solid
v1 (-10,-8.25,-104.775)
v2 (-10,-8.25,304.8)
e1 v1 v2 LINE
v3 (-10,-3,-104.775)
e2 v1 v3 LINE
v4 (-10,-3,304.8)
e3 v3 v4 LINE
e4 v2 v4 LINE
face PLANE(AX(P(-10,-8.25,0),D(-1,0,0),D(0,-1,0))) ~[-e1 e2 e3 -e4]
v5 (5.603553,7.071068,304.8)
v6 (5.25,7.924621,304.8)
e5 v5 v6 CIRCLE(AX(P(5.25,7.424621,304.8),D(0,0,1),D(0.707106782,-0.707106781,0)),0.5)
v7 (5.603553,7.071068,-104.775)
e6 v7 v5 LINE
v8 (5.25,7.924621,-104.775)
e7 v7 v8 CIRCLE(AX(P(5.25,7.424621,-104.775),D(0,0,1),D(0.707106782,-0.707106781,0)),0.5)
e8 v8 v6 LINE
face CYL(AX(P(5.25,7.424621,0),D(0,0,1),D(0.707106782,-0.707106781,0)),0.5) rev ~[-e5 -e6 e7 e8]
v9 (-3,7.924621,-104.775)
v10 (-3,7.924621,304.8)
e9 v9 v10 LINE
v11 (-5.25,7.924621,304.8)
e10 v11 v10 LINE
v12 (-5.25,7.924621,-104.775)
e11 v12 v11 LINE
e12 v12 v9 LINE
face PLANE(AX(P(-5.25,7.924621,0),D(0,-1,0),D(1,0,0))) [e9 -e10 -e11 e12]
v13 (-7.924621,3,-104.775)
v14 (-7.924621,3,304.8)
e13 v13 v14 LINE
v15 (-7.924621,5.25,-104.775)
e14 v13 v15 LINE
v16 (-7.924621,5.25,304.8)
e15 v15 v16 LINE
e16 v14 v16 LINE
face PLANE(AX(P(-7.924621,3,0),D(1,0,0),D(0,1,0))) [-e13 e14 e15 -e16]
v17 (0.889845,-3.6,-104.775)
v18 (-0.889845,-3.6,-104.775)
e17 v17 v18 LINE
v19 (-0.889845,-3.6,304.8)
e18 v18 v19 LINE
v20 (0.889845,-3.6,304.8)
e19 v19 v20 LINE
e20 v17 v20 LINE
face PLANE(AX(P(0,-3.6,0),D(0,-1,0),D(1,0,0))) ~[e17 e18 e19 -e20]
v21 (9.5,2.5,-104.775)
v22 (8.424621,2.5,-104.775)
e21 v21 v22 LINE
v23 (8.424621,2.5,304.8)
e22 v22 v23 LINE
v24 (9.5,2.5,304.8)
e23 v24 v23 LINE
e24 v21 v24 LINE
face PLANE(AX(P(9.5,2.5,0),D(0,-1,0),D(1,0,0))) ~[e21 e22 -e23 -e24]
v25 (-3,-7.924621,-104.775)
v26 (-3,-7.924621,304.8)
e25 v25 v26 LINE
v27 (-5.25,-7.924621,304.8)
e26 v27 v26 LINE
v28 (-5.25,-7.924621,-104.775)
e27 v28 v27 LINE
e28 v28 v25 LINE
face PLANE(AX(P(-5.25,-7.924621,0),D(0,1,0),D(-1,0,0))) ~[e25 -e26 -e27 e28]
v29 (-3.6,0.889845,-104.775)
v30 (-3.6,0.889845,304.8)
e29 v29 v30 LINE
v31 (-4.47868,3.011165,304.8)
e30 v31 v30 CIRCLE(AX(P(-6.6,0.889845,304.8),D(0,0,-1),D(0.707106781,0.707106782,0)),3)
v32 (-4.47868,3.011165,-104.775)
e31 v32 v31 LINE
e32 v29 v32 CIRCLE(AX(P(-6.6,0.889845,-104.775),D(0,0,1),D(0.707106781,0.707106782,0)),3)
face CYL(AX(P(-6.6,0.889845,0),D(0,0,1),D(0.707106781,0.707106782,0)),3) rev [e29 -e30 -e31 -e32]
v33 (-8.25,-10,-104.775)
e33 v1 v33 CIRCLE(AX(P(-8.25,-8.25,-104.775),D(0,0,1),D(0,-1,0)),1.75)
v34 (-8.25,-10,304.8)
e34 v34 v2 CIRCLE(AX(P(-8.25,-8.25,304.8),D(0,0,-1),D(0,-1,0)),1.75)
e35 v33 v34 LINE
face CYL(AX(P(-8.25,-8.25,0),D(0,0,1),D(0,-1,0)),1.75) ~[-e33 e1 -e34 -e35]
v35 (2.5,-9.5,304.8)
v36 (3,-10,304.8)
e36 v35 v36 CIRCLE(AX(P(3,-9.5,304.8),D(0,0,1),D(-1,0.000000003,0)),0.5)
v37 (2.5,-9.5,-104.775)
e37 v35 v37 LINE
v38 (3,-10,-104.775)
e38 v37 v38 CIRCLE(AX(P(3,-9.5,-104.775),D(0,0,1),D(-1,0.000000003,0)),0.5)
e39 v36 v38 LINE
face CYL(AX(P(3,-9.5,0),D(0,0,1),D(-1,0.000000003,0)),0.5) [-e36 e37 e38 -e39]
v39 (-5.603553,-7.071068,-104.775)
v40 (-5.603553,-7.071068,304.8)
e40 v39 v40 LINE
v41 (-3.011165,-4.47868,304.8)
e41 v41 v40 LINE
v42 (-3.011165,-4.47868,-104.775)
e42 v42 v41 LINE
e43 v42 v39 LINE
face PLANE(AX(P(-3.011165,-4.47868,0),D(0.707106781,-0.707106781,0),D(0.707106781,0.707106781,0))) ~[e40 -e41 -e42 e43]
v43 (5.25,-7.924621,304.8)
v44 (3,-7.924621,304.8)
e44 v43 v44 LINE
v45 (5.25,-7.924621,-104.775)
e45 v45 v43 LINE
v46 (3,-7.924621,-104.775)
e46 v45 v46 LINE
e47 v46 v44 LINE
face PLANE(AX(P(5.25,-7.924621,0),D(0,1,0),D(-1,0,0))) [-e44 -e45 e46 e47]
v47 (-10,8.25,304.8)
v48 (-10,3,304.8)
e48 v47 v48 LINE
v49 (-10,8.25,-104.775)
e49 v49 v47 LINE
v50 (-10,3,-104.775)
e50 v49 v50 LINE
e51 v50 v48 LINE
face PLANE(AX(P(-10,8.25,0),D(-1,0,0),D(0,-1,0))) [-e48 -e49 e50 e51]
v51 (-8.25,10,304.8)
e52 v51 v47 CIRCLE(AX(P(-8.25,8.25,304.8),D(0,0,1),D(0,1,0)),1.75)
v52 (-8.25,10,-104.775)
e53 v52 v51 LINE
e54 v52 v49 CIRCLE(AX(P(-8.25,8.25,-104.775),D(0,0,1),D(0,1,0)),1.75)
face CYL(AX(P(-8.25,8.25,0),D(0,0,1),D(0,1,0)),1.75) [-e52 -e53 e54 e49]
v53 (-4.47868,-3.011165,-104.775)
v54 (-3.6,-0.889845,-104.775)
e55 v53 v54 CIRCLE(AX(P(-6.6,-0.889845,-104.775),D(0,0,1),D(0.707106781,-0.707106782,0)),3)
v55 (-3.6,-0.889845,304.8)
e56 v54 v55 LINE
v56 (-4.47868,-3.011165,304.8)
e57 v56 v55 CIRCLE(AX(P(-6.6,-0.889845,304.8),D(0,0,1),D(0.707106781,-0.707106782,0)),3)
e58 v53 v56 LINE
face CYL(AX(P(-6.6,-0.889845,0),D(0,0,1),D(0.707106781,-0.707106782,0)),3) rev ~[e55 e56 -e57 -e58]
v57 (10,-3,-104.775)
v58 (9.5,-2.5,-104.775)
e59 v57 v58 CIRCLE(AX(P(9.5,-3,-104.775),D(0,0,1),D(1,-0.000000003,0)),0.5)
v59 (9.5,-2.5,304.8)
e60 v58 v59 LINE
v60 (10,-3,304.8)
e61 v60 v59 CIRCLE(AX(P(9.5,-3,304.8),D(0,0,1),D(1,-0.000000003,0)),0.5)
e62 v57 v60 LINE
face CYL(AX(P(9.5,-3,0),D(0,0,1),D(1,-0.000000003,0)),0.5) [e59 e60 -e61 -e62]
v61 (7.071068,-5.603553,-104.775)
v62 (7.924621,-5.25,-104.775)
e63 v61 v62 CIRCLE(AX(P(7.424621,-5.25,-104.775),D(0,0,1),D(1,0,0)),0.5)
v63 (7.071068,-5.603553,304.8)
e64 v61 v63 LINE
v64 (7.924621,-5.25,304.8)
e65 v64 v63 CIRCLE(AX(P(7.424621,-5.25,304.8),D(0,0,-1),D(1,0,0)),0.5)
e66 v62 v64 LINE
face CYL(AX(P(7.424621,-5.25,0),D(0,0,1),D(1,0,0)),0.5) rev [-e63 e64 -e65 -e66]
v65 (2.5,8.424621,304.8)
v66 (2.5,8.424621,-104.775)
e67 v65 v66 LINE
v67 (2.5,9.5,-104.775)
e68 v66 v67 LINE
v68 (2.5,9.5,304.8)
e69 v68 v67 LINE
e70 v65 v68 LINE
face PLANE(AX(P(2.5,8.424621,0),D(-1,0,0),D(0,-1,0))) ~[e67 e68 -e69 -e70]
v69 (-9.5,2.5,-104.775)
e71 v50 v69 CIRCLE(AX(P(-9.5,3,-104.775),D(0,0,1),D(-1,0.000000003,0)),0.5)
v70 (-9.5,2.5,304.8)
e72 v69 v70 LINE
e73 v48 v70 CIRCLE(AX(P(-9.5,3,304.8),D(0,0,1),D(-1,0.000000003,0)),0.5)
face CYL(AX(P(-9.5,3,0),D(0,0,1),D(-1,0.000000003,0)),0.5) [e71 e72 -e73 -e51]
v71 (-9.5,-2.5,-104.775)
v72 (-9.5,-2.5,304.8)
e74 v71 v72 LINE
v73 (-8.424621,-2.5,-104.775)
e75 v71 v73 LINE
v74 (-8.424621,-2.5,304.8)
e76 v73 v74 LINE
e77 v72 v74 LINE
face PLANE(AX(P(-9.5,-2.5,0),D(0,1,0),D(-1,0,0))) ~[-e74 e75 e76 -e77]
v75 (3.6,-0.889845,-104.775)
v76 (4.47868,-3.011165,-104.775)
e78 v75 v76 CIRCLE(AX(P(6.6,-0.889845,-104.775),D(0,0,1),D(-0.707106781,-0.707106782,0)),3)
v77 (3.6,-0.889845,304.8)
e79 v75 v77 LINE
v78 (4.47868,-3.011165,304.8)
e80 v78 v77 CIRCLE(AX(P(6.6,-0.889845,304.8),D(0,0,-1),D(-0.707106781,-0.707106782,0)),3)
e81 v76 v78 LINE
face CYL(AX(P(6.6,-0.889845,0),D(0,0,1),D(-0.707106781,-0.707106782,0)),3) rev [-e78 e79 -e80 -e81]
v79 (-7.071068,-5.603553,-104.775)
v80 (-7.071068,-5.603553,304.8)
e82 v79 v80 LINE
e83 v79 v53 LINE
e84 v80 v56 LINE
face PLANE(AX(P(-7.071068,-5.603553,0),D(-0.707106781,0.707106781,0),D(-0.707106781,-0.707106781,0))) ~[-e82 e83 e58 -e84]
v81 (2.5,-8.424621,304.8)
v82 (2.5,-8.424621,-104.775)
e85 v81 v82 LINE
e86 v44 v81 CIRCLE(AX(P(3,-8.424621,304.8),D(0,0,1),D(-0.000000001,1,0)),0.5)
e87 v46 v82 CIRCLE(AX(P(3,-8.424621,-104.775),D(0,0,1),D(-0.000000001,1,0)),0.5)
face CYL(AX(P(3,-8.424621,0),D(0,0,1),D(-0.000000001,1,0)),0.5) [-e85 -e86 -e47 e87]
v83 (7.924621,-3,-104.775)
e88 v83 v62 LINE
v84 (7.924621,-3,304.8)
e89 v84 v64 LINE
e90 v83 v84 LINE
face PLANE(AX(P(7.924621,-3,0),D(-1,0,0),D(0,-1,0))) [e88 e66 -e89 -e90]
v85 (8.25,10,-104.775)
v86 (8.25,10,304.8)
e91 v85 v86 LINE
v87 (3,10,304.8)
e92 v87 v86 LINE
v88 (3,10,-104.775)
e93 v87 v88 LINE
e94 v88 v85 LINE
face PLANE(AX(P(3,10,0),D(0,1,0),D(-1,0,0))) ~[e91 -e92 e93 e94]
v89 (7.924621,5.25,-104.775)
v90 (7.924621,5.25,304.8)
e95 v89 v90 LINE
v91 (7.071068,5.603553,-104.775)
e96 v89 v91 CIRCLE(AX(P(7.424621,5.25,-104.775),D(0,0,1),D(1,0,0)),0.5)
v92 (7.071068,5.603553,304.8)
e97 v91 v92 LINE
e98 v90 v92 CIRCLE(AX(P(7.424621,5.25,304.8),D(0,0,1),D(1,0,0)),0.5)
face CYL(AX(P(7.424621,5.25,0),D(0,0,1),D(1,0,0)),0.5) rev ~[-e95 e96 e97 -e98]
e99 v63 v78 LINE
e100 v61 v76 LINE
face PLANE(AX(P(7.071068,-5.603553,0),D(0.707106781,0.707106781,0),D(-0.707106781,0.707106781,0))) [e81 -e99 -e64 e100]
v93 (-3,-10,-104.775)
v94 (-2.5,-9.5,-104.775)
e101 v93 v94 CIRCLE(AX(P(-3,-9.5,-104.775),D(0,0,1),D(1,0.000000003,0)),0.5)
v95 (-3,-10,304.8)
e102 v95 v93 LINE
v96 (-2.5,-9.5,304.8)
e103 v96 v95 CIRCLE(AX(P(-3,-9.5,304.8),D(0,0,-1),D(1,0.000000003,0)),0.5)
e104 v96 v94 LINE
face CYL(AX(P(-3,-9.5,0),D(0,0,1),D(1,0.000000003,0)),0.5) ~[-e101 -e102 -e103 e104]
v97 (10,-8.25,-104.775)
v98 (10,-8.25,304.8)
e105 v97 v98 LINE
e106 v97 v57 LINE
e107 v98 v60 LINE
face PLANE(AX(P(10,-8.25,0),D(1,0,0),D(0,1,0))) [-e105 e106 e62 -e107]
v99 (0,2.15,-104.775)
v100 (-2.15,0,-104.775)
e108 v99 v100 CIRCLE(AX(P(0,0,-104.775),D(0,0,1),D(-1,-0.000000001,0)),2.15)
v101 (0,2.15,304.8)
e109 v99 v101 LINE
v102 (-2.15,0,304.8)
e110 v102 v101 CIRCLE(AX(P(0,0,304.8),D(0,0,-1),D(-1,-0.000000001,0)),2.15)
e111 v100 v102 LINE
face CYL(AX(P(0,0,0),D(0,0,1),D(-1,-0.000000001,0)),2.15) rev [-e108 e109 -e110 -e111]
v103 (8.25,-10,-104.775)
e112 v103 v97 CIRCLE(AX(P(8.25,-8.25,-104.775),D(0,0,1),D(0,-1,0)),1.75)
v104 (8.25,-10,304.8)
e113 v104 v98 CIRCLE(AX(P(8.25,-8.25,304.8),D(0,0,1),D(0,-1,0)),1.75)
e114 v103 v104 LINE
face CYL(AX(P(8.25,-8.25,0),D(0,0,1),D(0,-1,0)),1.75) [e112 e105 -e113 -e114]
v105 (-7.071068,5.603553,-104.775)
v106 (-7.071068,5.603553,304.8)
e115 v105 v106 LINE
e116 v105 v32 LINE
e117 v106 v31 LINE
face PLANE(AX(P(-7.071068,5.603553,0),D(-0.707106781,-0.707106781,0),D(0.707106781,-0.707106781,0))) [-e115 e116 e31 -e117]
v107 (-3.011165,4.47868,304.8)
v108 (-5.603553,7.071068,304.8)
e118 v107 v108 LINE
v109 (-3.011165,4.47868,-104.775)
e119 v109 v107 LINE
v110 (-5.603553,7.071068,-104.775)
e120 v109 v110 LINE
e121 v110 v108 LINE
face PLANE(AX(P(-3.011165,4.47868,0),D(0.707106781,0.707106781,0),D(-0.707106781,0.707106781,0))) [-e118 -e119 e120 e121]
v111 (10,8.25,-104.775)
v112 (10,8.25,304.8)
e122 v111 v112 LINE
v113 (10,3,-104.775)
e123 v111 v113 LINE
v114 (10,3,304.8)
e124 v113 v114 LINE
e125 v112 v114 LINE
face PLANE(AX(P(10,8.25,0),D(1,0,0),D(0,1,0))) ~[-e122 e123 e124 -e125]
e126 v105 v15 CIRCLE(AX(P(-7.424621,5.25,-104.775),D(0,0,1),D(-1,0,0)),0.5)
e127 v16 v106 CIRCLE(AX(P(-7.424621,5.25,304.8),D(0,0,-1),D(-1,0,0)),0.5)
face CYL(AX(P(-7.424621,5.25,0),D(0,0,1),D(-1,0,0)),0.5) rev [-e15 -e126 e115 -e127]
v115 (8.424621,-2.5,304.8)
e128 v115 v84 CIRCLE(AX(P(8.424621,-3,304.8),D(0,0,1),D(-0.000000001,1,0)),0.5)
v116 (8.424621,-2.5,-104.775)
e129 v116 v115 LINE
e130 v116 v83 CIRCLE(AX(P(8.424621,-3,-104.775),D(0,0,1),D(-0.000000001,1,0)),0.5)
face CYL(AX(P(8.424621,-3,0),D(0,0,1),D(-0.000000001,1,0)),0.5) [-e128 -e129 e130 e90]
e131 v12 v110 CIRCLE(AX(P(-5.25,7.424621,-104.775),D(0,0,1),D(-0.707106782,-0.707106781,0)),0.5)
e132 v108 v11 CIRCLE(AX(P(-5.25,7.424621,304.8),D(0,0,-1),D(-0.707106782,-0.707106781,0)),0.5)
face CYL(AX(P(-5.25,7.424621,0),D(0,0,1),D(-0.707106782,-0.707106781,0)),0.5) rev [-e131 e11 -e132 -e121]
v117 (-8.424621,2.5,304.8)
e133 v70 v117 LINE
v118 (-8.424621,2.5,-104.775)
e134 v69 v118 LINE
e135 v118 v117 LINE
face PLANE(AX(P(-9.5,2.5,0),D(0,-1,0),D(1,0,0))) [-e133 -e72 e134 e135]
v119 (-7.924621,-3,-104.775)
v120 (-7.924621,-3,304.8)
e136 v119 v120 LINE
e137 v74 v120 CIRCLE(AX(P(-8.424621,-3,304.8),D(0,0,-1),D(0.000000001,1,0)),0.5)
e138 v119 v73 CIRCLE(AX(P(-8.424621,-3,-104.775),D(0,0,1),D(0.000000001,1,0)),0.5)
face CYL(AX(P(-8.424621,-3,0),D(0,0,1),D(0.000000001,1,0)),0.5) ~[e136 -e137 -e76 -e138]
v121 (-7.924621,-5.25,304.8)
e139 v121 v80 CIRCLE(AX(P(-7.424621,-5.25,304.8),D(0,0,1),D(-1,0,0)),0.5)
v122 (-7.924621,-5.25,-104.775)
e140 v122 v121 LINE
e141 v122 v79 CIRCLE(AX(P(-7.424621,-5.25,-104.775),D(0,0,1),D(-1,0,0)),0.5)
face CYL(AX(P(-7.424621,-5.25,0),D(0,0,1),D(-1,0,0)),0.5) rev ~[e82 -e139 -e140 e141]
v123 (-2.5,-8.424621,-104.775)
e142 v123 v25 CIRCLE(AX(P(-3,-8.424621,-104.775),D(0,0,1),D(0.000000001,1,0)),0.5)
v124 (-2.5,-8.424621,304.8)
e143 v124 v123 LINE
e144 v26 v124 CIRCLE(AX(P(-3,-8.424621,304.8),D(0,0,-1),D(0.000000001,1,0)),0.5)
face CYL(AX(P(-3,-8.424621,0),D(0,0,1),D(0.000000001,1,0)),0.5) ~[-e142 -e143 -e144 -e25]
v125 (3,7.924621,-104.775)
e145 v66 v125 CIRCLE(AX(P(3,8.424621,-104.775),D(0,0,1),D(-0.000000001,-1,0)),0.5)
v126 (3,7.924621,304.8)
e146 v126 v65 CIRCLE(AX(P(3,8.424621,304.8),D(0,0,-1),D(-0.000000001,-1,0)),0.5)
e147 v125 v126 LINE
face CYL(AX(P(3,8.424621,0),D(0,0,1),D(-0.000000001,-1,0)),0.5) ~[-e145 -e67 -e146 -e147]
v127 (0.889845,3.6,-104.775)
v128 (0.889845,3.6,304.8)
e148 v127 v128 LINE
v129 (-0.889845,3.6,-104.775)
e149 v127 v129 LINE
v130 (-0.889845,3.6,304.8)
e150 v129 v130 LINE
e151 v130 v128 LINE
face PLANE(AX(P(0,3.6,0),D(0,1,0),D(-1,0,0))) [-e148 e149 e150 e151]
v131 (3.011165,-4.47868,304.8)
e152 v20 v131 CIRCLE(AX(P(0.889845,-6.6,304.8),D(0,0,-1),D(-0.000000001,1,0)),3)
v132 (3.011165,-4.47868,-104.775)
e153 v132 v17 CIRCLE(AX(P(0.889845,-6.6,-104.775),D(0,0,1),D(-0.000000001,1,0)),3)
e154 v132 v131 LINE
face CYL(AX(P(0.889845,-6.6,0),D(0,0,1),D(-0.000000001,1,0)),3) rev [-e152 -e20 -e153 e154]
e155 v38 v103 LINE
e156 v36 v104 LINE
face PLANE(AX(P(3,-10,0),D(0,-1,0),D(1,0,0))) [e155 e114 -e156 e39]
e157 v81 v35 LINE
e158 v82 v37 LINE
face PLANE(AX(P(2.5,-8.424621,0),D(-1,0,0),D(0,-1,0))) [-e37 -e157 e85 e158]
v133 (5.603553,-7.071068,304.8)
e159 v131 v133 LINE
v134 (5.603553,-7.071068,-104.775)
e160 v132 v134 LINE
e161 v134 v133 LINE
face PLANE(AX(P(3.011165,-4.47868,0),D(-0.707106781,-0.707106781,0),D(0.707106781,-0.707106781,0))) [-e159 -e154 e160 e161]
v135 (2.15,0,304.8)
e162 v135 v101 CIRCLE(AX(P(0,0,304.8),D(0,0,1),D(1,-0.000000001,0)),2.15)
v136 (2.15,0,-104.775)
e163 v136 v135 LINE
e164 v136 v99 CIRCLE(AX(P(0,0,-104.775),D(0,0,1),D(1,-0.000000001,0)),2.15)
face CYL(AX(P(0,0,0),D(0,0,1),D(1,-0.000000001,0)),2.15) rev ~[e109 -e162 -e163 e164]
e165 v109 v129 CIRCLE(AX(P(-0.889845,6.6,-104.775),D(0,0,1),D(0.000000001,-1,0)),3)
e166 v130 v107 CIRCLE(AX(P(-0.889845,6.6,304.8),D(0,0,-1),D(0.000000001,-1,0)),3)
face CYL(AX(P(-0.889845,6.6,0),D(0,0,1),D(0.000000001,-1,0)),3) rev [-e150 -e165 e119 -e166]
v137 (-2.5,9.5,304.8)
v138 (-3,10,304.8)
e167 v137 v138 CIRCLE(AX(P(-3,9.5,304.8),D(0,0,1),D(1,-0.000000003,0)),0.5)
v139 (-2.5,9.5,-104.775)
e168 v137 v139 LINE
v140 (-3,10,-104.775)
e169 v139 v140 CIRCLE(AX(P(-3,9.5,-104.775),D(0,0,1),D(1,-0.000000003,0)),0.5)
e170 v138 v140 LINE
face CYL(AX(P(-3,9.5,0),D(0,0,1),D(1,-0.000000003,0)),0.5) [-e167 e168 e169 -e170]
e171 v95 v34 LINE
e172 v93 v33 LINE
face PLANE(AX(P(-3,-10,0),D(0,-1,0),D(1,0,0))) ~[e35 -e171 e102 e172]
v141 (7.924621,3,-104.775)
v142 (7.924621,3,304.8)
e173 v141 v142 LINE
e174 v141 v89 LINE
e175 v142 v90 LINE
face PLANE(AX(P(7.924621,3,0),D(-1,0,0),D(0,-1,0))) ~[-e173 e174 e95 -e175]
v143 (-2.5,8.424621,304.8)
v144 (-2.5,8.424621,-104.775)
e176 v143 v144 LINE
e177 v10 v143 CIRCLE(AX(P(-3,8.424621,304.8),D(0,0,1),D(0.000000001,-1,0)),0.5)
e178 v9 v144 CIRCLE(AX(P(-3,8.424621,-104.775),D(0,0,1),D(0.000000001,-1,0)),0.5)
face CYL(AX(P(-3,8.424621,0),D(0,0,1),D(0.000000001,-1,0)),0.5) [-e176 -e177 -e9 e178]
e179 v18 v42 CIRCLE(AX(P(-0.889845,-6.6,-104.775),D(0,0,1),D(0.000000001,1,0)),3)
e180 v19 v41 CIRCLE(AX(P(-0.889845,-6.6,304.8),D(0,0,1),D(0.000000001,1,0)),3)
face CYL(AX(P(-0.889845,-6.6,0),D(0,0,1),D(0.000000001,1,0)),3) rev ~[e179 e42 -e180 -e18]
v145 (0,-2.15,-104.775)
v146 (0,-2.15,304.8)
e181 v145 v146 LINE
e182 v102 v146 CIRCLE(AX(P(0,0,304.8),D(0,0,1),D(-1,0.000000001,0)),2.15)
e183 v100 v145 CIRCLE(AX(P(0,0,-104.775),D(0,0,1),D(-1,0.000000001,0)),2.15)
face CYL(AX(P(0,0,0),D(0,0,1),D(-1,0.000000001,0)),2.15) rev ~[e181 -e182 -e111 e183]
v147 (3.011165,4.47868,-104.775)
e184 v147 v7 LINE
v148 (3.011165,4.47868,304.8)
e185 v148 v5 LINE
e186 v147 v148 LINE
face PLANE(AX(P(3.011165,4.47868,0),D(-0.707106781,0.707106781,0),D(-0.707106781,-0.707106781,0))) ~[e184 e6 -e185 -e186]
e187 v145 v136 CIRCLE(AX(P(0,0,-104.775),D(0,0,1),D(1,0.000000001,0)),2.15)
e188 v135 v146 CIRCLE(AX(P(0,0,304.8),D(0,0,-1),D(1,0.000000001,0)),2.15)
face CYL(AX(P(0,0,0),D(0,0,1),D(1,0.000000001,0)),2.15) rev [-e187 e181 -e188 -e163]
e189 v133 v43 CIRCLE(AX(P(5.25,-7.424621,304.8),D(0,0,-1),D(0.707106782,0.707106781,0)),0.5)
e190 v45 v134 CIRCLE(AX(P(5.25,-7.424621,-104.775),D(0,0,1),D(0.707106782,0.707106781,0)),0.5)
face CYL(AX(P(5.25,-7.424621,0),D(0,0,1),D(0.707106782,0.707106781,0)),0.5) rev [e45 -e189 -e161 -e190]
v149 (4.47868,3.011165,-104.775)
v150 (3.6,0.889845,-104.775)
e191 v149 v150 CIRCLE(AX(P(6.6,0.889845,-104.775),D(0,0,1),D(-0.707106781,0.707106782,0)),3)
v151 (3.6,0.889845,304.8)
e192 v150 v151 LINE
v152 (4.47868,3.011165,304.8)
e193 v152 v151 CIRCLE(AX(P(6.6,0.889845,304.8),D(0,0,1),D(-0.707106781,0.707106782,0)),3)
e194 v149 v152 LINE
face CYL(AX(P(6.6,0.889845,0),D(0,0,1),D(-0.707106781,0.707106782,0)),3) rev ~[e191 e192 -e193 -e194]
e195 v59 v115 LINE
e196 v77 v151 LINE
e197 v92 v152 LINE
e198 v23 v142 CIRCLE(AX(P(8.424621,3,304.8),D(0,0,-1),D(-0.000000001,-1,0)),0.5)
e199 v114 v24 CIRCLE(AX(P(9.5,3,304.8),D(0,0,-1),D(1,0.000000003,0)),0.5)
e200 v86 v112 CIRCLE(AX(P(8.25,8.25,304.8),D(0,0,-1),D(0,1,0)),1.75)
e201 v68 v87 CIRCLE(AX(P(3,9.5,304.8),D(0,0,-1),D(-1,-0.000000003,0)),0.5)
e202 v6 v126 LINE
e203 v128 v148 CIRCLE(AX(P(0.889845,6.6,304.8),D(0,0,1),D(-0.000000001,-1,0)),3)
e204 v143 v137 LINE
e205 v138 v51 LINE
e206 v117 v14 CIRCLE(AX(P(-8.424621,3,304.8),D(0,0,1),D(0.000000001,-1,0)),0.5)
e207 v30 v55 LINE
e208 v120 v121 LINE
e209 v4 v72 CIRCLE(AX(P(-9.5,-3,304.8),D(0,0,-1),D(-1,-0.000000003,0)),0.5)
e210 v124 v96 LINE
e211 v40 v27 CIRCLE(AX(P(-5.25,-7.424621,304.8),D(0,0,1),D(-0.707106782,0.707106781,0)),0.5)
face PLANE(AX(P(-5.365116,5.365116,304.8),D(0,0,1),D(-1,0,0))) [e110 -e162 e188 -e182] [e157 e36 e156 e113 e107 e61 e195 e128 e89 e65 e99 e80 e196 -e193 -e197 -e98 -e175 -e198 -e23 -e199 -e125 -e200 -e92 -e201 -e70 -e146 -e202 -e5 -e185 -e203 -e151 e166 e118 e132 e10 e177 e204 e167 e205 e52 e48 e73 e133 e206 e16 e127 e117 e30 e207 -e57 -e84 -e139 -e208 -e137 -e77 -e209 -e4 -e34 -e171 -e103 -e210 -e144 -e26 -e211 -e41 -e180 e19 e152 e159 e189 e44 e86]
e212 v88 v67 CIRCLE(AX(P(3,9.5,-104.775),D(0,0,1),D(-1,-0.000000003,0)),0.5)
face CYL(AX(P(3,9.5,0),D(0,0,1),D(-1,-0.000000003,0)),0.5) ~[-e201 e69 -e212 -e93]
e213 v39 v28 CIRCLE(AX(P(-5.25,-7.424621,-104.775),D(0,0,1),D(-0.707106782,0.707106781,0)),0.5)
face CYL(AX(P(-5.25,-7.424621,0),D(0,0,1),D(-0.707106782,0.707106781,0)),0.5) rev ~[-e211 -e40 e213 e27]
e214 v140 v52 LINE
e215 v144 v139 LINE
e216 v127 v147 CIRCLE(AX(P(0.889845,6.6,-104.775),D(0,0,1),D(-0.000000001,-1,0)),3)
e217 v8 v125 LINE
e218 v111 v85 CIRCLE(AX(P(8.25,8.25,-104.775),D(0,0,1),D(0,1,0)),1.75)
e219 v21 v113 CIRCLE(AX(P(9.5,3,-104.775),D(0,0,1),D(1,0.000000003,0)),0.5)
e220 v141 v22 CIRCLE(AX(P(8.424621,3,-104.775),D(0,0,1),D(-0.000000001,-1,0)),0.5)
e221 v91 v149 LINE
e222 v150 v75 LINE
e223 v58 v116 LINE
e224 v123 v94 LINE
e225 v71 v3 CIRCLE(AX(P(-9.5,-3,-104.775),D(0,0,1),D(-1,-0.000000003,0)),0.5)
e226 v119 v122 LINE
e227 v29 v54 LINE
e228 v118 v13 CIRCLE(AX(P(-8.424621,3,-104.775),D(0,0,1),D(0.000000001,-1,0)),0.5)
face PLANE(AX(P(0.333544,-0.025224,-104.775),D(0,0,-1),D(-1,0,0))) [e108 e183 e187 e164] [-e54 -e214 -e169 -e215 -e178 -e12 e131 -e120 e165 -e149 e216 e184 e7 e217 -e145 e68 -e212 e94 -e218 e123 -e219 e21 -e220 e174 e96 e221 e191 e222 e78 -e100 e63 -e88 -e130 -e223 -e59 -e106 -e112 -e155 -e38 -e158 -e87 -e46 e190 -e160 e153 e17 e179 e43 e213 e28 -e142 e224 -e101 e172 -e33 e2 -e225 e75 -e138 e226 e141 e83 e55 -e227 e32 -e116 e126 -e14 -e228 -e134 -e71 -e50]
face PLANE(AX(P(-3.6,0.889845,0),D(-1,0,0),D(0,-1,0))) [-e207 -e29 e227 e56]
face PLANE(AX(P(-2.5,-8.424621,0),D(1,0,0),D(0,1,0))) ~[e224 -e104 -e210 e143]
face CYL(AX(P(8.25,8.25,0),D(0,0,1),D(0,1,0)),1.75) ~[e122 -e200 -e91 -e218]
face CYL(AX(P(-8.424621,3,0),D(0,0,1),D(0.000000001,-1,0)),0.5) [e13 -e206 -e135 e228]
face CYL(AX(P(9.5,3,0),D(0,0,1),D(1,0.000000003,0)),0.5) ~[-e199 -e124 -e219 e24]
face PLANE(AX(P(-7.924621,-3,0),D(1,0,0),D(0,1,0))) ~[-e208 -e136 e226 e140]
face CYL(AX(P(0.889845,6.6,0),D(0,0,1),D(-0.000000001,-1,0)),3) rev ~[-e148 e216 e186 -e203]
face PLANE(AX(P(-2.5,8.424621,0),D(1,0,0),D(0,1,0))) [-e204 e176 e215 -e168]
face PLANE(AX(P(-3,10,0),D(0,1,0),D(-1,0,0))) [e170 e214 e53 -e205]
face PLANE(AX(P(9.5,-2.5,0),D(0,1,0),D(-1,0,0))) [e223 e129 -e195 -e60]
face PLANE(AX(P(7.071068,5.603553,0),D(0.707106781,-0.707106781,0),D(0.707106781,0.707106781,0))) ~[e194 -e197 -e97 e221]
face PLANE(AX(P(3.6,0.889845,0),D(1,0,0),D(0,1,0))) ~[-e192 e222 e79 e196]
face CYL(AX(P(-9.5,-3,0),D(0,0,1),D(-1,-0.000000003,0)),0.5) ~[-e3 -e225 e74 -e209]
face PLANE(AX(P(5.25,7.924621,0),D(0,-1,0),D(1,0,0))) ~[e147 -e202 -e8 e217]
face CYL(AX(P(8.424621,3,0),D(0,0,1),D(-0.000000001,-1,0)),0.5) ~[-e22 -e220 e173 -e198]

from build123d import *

# Parameters (mm, degrees)
BOSS_EXTRUDE1_DEPTH = 304.8
SKETCH5_W           = 26.995197012
SKETCH5_H           = 24.68705749
CUT_EXTRUDE1_DEPTH  = 200.025


with BuildPart() as part:
    # Sketch4 → Boss-Extrude1 (new, symmetric)
    with BuildSketch(Plane.XY):
        with BuildLine():
            Line((3, -10), (8.25, -10))
            ThreePointArc((8.25, -10), (9.487436867, -9.487436867), (10, -8.25))
            Line((10, -8.25), (10, -3))
            ThreePointArc((10, -3), (9.853553391, -2.646446609), (9.5, -2.5))
            Line((9.5, -2.5), (8.424621202, -2.5))
            ThreePointArc((8.424621202, -2.5), (8.071067812, -2.646446609), (7.924621202, -3))
            Line((7.924621202, -3), (7.924621202, -5.25))
            ThreePointArc((7.924621202, -5.25), (7.615962919, -5.711939766), (7.071067812, -5.603553391))
            Line((7.071067812, -5.603553391), (4.478679656, -3.011165235))
            ThreePointArc((4.478679656, -3.011165235), (3.828361402, -2.037895189), (3.6, -0.889844892))
            Line((3.6, -0.889844892), (3.6, 0))
            Line((3.6, 0), (2.15, 0))
            ThreePointArc((2.15, 0), (1.52027958, -1.52027958), (0, -2.15))
            Line((0, -2.15), (0, -3.6))
            Line((0, -3.6), (0.889844892, -3.6))
            ThreePointArc((0.889844892, -3.6), (2.037895189, -3.828361402), (3.011165235, -4.478679656))
            Line((3.011165235, -4.478679656), (5.603553391, -7.071067812))
            ThreePointArc((5.603553391, -7.071067812), (5.711939766, -7.615962919), (5.25, -7.924621202))
            Line((5.25, -7.924621202), (3, -7.924621202))
            ThreePointArc((3, -7.924621202), (2.646446609, -8.071067812), (2.5, -8.424621202))
            Line((2.5, -8.424621202), (2.5, -9.5))
            ThreePointArc((2.5, -9.5), (2.646446609, -9.853553391), (3, -10))
        make_face()
    extrude(amount=BOSS_EXTRUDE1_DEPTH, both=True)

    # Mirror1: part across plane


with BuildPart() as part_1:
    add(part.part)
    add(part.part.mirror(Plane(origin=(0, 0, 0), x_dir=(0, 0, 1), z_dir=(1, 0, 0))))

    # Mirror2: part across plane


with BuildPart() as part_2:
    add(part_1.part)
    add(part_1.part.mirror(Plane.ZX))

    # Sketch5 → Cut-Extrude1 (cut)
    with BuildSketch(Plane(origin=(0, 0, -304.8), x_dir=(-1, 0, 0), z_dir=(0, 0, -1))):
        with Locations((-0.333544011, -0.025224209)):
            Rectangle(SKETCH5_W, SKETCH5_H)
    extrude(amount=-CUT_EXTRUDE1_DEPTH, mode=Mode.SUBTRACT)


solid = part_2.part
